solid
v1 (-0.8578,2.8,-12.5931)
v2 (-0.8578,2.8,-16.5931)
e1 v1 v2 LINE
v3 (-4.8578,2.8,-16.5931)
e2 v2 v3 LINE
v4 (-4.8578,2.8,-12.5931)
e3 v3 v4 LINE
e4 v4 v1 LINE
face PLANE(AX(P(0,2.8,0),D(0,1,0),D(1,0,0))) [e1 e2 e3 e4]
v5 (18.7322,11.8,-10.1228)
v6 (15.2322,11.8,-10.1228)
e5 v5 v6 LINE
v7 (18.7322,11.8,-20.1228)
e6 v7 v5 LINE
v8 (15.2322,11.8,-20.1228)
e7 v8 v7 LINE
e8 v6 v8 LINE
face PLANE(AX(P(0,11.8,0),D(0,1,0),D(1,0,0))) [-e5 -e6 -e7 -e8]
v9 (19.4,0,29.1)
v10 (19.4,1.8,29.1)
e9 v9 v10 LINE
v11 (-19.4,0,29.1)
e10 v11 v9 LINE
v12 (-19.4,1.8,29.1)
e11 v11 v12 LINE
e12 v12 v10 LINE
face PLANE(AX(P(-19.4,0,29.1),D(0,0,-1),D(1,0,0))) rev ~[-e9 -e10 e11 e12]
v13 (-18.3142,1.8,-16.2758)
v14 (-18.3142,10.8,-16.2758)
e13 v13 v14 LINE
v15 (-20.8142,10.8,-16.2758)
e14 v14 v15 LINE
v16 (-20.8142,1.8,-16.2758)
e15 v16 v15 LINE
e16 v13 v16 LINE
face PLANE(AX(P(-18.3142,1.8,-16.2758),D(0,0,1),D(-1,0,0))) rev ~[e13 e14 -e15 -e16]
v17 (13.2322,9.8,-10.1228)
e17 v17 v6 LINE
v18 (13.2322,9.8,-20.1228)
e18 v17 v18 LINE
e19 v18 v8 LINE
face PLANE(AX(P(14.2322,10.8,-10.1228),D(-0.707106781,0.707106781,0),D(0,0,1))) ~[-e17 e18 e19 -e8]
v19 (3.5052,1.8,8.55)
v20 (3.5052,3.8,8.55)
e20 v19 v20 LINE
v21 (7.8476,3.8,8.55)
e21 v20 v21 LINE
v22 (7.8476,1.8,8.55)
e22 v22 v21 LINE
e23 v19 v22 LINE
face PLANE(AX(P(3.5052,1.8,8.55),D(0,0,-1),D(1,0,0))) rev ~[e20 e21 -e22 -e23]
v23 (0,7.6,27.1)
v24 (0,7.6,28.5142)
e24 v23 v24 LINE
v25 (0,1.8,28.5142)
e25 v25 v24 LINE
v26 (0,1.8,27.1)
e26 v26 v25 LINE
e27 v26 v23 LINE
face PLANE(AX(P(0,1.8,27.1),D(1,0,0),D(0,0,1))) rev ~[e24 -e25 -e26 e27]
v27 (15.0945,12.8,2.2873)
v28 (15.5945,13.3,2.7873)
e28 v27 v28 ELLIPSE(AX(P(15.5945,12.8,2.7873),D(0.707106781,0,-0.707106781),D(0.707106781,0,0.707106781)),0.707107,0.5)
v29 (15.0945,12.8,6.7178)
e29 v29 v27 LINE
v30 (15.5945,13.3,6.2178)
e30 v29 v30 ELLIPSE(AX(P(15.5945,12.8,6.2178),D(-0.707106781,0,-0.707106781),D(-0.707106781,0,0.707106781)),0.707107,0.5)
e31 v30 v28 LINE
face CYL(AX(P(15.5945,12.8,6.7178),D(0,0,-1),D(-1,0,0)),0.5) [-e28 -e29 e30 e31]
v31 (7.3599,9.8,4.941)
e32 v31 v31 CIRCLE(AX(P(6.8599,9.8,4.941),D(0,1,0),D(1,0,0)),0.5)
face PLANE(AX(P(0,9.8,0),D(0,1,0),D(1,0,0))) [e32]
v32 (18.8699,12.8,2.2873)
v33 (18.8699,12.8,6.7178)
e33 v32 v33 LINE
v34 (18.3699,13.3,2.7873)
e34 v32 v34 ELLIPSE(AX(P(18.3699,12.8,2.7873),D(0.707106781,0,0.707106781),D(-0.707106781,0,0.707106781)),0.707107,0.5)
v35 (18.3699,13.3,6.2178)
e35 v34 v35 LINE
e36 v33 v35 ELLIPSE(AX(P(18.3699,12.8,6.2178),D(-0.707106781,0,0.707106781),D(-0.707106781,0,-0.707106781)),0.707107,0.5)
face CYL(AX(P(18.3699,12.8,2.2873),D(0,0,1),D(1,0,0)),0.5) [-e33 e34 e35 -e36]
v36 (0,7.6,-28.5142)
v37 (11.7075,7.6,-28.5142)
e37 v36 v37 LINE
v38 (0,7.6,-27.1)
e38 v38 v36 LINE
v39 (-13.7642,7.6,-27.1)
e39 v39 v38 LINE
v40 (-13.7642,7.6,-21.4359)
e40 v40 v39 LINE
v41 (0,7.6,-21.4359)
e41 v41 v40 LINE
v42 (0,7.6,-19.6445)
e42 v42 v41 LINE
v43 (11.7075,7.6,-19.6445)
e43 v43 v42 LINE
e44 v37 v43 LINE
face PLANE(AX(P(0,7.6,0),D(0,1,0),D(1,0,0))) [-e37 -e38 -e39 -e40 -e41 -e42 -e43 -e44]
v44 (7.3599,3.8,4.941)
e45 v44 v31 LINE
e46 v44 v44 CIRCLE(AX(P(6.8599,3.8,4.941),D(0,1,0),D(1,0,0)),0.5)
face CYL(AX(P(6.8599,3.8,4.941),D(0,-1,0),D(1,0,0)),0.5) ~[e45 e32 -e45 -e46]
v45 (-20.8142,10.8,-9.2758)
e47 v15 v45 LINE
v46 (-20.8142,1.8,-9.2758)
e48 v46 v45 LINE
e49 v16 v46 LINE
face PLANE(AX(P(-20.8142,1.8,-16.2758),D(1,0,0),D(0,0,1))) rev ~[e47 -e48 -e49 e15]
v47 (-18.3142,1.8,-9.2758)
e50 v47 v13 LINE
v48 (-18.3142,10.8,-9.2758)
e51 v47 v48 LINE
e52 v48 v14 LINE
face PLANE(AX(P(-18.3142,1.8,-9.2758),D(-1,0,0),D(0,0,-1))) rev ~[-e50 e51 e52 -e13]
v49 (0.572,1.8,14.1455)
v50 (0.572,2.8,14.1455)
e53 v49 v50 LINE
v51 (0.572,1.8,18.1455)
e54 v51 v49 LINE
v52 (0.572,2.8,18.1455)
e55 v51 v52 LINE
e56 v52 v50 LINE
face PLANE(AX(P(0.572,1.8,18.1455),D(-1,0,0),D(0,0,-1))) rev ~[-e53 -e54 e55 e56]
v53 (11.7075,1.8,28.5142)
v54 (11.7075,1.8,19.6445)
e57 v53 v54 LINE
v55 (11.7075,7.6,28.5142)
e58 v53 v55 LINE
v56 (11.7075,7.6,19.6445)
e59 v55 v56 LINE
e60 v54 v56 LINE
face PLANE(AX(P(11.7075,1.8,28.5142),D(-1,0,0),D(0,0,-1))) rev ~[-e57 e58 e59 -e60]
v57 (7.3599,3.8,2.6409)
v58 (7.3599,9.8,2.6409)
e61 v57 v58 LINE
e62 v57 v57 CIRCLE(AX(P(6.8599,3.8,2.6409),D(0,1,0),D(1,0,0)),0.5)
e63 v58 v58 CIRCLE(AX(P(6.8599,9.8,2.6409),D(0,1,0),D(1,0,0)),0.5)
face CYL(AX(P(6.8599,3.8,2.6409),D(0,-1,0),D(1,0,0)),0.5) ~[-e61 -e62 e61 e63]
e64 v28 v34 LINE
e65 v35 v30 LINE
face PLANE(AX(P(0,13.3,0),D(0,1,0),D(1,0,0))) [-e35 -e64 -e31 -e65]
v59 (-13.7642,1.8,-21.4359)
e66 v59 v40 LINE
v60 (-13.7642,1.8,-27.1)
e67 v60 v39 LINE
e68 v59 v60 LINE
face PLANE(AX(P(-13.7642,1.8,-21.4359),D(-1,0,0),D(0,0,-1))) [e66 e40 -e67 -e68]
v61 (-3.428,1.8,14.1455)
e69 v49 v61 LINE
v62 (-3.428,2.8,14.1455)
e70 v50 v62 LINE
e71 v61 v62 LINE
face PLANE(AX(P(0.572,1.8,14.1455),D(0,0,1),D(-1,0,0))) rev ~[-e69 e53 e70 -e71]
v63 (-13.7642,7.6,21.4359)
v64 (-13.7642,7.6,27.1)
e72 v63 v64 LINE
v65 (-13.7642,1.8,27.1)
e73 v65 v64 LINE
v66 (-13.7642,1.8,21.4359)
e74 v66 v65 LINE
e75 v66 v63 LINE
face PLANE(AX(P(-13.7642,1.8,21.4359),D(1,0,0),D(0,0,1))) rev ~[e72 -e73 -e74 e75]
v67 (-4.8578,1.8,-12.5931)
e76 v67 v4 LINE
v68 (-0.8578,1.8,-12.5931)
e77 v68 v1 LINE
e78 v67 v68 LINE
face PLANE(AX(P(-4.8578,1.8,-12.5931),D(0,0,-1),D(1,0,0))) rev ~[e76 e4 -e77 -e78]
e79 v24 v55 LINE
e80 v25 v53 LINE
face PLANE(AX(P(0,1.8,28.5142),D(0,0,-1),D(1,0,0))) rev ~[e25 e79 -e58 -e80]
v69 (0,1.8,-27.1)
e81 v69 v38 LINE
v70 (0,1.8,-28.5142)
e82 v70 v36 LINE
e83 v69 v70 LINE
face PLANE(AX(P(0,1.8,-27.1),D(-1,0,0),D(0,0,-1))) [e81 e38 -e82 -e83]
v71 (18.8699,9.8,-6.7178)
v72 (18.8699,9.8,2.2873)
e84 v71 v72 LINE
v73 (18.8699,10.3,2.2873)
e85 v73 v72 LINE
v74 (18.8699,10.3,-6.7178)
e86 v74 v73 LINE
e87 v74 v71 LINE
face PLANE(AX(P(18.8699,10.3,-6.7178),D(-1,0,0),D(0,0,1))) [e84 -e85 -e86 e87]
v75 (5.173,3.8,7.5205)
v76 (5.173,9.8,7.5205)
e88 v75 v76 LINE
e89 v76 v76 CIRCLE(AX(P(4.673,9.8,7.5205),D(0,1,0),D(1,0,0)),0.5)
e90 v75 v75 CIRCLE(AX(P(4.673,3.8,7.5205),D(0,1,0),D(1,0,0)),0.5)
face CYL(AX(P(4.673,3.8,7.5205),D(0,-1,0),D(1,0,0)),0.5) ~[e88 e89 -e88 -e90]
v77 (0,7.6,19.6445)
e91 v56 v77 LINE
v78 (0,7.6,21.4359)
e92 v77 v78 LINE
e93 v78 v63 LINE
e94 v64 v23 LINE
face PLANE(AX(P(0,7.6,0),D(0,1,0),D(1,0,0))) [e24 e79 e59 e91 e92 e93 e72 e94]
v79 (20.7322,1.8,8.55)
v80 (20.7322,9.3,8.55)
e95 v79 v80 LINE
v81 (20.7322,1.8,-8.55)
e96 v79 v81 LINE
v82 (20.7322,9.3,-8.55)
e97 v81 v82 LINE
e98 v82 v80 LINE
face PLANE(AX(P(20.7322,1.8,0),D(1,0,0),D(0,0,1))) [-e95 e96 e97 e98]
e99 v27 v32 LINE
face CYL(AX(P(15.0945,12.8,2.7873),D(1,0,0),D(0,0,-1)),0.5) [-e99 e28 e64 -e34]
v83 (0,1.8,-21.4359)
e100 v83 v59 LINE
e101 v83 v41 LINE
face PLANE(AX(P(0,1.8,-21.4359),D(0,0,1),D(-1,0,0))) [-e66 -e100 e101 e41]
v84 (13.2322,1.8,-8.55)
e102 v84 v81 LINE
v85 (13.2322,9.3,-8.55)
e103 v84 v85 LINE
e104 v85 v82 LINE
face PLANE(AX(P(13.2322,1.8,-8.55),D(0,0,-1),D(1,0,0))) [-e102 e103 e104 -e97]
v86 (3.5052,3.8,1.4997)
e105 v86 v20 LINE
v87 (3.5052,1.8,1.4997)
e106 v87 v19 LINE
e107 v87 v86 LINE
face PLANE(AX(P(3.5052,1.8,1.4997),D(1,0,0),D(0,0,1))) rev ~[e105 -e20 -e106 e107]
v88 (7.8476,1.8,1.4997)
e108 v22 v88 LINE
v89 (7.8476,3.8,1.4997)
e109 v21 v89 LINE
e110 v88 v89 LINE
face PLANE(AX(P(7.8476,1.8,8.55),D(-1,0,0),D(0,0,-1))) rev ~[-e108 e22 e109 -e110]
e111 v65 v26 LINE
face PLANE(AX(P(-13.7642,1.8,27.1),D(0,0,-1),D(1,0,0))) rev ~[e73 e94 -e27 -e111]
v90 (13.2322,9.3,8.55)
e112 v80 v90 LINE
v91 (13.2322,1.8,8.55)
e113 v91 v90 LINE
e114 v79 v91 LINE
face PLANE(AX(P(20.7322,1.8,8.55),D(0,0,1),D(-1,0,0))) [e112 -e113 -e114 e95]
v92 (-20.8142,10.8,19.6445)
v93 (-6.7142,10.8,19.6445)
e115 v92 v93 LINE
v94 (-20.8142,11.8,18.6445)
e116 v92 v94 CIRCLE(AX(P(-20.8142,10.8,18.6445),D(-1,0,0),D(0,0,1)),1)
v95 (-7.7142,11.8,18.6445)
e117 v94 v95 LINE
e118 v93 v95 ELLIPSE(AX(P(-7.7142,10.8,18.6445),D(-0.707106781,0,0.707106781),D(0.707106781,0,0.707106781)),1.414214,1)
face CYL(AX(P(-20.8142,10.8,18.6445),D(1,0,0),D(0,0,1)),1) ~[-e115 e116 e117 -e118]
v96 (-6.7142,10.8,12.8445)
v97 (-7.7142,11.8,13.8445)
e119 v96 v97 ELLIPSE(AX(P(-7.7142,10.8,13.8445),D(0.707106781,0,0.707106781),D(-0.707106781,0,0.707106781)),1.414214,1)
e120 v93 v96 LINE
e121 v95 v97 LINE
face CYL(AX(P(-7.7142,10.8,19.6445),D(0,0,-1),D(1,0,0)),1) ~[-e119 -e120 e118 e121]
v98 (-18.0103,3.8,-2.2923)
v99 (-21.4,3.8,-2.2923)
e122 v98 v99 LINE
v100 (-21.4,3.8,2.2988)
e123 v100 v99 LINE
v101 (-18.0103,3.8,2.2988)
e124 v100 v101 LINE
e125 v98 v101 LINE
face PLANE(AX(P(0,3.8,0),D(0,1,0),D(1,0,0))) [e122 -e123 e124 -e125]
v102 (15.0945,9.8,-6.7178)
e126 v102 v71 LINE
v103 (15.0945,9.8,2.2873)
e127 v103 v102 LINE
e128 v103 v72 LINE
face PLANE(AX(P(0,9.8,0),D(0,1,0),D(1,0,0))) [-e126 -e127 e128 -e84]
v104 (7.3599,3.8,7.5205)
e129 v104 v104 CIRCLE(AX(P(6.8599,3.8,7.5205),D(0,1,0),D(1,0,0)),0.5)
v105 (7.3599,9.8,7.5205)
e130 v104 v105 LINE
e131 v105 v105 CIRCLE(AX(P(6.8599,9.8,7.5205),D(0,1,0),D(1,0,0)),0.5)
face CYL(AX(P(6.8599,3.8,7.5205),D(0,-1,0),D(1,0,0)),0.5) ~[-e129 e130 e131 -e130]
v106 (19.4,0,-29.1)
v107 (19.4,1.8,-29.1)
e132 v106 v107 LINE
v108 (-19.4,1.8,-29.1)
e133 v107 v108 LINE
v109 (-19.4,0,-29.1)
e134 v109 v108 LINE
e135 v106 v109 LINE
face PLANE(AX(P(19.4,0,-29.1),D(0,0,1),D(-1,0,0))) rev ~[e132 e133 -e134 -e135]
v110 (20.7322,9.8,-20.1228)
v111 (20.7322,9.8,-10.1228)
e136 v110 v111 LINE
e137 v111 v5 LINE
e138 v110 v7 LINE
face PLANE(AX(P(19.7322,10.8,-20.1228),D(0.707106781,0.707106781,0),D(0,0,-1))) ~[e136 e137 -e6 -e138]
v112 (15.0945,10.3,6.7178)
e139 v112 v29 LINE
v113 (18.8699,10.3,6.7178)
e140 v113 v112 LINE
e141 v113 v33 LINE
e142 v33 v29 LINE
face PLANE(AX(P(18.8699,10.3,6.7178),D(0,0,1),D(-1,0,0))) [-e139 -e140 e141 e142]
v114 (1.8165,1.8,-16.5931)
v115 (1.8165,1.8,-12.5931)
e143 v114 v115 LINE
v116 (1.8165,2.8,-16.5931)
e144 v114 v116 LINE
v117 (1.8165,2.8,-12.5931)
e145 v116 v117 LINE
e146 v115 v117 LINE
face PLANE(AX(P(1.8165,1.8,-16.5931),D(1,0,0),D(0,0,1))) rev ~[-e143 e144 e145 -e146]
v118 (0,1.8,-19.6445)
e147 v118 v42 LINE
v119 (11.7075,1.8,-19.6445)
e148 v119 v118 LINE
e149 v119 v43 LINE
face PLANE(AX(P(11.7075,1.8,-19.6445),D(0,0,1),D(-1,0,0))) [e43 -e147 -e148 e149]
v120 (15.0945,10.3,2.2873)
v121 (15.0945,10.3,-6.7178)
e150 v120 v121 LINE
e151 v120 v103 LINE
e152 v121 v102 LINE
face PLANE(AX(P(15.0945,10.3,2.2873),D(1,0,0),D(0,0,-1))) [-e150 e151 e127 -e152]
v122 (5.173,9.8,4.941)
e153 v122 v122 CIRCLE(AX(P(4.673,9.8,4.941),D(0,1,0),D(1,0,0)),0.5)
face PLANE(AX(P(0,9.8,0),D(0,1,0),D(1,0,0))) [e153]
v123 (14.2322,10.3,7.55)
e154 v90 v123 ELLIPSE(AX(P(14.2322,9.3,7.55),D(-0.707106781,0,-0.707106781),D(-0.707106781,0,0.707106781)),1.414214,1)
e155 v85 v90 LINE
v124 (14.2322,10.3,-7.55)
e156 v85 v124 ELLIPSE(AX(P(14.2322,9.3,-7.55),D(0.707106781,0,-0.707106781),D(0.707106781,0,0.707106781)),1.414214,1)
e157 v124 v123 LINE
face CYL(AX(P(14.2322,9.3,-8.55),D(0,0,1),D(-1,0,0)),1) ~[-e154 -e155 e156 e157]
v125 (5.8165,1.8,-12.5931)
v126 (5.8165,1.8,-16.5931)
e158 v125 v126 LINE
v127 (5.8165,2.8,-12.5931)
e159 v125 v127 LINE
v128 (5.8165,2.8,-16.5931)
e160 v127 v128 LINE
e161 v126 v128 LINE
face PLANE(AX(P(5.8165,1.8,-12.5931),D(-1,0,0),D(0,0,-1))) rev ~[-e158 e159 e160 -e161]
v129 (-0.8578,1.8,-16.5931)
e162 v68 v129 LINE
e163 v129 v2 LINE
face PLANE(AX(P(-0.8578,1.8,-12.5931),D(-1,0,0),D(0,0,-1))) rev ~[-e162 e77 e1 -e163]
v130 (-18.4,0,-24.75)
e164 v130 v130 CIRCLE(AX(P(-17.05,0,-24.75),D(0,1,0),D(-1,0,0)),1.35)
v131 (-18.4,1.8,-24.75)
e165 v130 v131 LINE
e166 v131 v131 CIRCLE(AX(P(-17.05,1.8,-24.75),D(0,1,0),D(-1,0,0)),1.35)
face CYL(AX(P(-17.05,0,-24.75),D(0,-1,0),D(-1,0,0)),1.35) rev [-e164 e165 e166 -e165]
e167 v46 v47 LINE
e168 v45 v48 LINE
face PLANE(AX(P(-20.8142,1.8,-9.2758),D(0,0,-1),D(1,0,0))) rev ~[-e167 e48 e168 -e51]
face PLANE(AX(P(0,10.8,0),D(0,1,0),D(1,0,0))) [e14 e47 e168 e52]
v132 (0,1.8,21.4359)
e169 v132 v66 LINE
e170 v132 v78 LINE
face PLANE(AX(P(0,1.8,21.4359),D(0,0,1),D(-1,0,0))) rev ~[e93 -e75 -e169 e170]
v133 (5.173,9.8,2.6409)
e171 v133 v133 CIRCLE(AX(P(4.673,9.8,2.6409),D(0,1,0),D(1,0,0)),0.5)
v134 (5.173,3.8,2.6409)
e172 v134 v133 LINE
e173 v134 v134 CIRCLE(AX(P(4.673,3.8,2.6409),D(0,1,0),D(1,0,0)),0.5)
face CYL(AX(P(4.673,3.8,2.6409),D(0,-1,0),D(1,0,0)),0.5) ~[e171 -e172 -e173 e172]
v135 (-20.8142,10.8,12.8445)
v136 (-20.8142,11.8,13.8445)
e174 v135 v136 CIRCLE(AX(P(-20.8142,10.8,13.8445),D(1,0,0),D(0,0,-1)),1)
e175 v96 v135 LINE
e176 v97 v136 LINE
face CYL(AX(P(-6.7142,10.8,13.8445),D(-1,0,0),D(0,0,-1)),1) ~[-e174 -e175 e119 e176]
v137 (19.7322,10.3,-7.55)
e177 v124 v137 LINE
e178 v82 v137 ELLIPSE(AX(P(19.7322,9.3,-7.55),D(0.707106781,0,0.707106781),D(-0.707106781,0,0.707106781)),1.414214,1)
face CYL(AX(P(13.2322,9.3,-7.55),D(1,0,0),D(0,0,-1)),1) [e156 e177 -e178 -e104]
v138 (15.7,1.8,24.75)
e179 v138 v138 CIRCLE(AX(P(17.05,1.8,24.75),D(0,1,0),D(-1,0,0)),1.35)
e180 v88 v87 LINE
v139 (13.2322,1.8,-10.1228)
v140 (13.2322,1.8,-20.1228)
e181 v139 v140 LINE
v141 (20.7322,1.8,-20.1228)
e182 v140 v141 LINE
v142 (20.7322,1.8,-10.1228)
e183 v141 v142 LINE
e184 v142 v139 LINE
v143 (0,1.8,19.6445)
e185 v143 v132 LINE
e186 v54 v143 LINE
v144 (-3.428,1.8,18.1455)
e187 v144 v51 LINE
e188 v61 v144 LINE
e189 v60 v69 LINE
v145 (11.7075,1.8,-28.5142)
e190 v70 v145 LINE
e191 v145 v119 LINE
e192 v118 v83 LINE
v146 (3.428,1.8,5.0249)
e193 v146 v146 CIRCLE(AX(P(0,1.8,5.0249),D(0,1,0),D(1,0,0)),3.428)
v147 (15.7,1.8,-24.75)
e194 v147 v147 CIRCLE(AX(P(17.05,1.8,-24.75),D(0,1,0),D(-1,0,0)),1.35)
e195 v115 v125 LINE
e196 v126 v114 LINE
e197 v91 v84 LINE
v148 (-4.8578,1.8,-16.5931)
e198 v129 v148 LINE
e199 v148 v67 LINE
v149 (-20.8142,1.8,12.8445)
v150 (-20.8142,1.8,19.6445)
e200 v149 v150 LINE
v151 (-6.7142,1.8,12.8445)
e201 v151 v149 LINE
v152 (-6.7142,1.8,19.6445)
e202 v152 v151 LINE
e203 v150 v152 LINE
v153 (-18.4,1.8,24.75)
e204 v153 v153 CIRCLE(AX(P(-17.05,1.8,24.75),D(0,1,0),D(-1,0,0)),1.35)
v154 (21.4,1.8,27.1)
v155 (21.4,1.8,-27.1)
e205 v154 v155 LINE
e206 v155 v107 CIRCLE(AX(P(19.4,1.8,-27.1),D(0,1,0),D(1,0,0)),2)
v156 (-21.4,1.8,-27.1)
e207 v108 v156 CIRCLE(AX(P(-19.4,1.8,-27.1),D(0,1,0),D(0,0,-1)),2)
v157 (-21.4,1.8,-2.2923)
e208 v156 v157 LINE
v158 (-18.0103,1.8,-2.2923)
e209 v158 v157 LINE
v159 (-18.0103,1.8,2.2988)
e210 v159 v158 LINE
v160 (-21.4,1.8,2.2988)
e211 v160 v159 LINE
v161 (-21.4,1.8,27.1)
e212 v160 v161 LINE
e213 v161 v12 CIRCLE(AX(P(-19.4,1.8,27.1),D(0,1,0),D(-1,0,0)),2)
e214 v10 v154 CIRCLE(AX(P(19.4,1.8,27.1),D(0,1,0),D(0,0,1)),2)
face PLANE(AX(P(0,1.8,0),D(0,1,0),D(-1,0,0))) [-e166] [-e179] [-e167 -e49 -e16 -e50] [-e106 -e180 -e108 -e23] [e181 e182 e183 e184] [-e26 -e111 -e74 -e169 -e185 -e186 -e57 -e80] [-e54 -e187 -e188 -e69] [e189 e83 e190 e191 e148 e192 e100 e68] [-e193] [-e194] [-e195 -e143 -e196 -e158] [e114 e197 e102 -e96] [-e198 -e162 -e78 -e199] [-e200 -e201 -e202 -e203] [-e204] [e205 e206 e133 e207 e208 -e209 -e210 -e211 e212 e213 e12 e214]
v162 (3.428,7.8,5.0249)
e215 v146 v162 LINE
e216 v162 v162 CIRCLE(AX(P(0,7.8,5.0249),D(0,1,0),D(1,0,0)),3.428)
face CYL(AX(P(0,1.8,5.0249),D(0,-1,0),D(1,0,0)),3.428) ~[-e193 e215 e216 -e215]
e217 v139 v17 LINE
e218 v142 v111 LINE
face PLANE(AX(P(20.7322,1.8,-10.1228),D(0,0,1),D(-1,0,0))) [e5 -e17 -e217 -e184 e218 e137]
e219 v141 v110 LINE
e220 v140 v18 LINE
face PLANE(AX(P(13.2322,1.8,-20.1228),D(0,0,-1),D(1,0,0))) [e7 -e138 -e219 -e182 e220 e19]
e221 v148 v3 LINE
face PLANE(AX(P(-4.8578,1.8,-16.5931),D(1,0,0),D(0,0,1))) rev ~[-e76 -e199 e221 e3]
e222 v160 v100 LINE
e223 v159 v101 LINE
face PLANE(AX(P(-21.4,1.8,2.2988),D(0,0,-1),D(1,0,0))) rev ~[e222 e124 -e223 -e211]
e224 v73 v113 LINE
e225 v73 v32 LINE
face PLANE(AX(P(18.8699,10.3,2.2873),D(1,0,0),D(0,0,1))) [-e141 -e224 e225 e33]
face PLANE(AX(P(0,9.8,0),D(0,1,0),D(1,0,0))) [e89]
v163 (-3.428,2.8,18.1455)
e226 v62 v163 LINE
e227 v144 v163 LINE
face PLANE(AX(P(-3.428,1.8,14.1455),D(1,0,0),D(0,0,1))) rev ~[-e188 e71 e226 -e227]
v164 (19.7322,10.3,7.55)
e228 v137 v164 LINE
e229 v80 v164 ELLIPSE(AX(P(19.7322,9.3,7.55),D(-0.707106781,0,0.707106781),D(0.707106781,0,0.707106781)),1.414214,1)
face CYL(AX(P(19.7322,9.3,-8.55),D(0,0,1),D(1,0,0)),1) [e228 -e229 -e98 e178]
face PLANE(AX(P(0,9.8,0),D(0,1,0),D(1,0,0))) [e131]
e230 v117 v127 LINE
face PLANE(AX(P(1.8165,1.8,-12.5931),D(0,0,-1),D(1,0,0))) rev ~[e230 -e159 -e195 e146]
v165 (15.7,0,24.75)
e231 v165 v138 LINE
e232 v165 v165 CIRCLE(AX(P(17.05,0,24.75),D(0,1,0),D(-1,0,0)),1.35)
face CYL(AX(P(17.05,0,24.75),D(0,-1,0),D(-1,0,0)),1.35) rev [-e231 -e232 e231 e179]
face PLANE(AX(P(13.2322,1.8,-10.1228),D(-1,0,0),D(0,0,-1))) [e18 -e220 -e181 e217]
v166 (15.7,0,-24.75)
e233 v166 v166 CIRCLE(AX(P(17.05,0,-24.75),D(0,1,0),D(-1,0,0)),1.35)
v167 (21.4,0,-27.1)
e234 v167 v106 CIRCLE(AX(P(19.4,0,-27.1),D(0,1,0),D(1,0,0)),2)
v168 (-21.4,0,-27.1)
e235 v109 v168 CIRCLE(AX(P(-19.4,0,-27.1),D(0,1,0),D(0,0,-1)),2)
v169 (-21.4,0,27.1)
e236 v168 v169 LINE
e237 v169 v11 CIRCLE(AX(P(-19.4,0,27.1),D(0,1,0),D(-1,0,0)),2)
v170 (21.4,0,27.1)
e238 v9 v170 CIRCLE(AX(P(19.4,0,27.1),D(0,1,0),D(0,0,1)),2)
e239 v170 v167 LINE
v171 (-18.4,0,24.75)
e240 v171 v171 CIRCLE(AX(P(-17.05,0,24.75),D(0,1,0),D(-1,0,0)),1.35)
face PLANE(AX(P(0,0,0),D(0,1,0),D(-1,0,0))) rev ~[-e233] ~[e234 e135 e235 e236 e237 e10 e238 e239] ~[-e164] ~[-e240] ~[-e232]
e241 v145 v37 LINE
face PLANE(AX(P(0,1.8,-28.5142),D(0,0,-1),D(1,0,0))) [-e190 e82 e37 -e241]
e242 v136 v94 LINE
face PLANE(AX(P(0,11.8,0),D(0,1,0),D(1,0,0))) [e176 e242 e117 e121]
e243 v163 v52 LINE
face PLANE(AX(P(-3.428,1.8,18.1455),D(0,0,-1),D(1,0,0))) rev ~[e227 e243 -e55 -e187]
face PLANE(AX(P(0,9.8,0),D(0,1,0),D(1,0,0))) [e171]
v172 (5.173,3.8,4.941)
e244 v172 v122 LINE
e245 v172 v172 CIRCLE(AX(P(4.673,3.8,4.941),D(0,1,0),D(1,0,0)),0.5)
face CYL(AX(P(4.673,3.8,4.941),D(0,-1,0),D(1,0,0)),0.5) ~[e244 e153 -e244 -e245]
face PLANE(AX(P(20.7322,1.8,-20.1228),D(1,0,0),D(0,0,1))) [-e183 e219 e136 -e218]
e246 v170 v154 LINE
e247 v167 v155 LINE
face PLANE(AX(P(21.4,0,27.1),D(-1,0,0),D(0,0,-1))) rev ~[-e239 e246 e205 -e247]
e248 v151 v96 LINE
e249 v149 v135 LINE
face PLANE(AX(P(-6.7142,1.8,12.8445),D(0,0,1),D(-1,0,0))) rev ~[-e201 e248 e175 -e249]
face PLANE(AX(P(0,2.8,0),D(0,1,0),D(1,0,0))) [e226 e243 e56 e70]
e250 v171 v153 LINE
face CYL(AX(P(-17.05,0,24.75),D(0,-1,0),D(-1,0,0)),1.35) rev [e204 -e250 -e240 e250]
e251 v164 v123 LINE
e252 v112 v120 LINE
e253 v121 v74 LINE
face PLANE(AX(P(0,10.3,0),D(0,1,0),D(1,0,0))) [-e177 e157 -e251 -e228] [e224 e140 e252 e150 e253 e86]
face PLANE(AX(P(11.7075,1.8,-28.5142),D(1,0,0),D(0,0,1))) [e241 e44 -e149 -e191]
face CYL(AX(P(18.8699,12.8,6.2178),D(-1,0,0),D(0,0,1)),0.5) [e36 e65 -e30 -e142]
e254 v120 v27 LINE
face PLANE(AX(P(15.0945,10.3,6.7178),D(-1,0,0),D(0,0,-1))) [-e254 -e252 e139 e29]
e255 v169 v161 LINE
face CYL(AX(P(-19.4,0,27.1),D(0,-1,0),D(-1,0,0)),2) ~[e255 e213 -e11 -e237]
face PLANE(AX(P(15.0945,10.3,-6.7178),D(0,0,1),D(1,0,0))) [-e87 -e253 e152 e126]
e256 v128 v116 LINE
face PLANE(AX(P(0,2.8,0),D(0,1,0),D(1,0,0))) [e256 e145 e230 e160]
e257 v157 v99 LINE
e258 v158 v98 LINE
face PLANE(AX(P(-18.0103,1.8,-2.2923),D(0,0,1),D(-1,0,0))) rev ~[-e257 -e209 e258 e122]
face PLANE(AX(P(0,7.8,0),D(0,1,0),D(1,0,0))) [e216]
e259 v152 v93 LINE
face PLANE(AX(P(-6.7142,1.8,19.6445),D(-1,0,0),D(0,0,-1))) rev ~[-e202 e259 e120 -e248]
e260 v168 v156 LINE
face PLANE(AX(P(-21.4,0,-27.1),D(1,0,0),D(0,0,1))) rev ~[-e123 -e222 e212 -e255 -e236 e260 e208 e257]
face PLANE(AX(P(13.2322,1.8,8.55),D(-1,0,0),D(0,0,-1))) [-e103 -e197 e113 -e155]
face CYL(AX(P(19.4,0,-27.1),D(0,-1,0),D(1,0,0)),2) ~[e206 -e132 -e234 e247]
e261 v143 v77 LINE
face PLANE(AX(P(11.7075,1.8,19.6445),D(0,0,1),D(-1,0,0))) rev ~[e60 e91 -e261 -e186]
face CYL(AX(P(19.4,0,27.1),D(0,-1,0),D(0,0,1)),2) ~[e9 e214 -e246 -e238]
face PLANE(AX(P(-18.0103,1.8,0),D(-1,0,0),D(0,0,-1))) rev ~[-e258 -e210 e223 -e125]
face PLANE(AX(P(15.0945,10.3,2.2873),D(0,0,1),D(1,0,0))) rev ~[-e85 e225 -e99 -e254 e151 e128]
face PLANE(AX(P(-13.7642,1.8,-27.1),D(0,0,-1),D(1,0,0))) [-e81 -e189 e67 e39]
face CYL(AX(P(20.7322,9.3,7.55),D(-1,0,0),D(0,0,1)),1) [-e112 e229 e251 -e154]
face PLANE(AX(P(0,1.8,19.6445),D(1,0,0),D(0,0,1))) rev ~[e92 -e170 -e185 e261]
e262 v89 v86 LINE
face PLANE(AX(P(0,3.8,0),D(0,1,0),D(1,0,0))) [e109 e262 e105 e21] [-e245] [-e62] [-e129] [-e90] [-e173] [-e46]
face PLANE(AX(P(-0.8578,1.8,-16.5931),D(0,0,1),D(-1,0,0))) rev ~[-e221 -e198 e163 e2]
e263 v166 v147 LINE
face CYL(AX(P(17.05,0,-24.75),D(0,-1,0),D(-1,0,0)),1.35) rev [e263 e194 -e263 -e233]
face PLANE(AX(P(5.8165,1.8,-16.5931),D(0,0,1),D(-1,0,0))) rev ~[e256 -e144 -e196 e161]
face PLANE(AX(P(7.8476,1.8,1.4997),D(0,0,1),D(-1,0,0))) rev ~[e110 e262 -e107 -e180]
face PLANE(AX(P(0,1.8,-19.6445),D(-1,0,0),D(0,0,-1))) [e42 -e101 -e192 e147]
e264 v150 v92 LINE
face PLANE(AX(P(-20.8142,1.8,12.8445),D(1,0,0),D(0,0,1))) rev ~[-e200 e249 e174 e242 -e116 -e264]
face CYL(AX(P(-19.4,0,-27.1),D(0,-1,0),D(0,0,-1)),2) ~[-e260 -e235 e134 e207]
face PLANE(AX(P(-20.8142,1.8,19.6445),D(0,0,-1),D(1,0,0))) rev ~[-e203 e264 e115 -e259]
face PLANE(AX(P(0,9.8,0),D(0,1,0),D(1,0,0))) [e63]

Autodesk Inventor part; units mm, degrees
ref_plane "YZ Plane" through (0, 0, 0) normal (1, 0, 0) x (0, 1, 0)
ref_plane "XZ Plane" through (0, 0, 0) normal (0, 1, 0) x (-1, 0, 0)
ref_plane "XY Plane" through (0, 0, 0) normal (0, 0, 1) x (1, 0, 0)
sketch "Esboço1" plane through (0, 0, 0) normal (0, 1, 0) x (-1, 0, 0)
  line L0 (-19.4, -29.1) -> (19.4, -29.1)
  line L1 (21.4, -27.1) -> (21.4, 27.1)
  line L2 (19.4, 29.1) -> (-19.4, 29.1)
  line L3 (-21.4, 27.1) -> (-21.4, -27.1)
  line L4 (-21.4, -29.1) -> (21.4, 29.1) construction
  line L5 (21.4, -29.1) -> (-21.4, 29.1) construction
  circle A0 centre (17.05, 24.75) radius 1.35
  circle A1 centre (-17.05, 24.75) radius 1.35
  circle A2 centre (17.05, -24.75) radius 1.35
  circle A3 centre (-17.05, -24.75) radius 1.35
  arc A4 (21.4, 27.1) -> (19.4, 29.1) centre (19.4, 27.1) ccw
  arc A5 (-19.4, 29.1) -> (-21.4, 27.1) centre (-19.4, 27.1) ccw
  arc A6 (19.4, -29.1) -> (21.4, -27.1) centre (19.4, -27.1) ccw
  arc A7 (-21.4, -27.1) -> (-19.4, -29.1) centre (-19.4, -27.1) ccw
  point P0 (0, 0)
  dimension "d0" = 42.8
  dimension "d1" = 58.2
  dimension "d2" = 2.7
  dimension "d3" = 3
  dimension "d4" = 3
  dimension "d5" = 2.7
  dimension "d6" = 3
  dimension "d7" = 3
  dimension "d8" = 2
extrude "Extrusão1" add sketch "Esboço1" along normal blind 1.8
sketch "Esboço2" plane through (0, 1.8, 0) normal (0, 1, 0) x (1, 0, 0)
  line L0 (-21.4, 27.1) -> (-21.4, -27.1) projected
  arc A0 (-21.4, -27.1) -> (-19.4, -29.1) centre (-19.4, -27.1) ccw projected
  arc A1 (-19.4, 29.1) -> (-21.4, 27.1) centre (-19.4, 27.1) ccw projected
  line L1 (19.4, 29.1) -> (-19.4, 29.1) projected
  line L2 (-19.4, -29.1) -> (19.4, -29.1) projected
  arc A2 (19.4, -29.1) -> (21.4, -27.1) centre (19.4, -27.1) ccw projected
  line L3 (21.4, -27.1) -> (21.4, 27.1) projected
  arc A3 (21.4, 27.1) -> (19.4, 29.1) centre (19.4, 27.1) ccw projected
  line L4 (20.7322, -8.55) -> (13.2322, -8.55)
  line L5 (13.2322, -8.55) -> (13.2322, 8.55)
  line L6 (13.2322, 8.55) -> (20.7322, 8.55)
  line L7 (20.7322, 8.55) -> (20.7322, -8.55)
  line L8 (20.7322, -8.55) -> (13.2322, 8.55) construction
  line L9 (13.2322, -8.55) -> (20.7322, 8.55) construction
  line L10 (20.7322, 10.1228) -> (13.2322, 10.1228)
  line L11 (13.2322, 10.1228) -> (13.2322, 20.1228)
  line L12 (13.2322, 20.1228) -> (20.7322, 20.1228)
  line L13 (20.7322, 20.1228) -> (20.7322, 10.1228)
  line L14 (-20.8142, -19.6445) -> (-6.7142, -19.6445)
  line L15 (-6.7142, -19.6445) -> (-6.7142, -12.8445)
  line L16 (-6.7142, -12.8445) -> (-20.8142, -12.8445)
  line L17 (-20.8142, -12.8445) -> (-20.8142, -19.6445)
  line L18 (-28.189, 0) -> (33.4078, 0)
  line L19 (-21.4, -2.2988) -> (-18.0103, -2.2988)
  line L20 (-18.0103, -2.2988) -> (-18.0103, 2.2923)
  line L21 (-18.0103, 2.2923) -> (-21.4, 2.2923)
  line L22 (-21.4, 2.2923) -> (-21.4, -2.2988)
  line L23 (-13.7642, -27.1) -> (0, -27.1)
  line L24 (0, -21.4359) -> (-13.7642, -21.4359)
  line L25 (-13.7642, -21.4359) -> (-13.7642, -27.1)
  line L26 (0, -28.5142) -> (11.7075, -28.5142)
  line L27 (11.7075, -28.5142) -> (11.7075, -19.6445)
  line L28 (11.7075, -19.6445) -> (0, -19.6445)
  line L29 (0, -19.6445) -> (0, -21.4359)
  line L30 (0, -27.1) -> (0, -28.5142)
  line L31 (-13.7642, 27.1) -> (0, 27.1)
  line L32 (0, 21.4359) -> (-13.7642, 21.4359)
  line L33 (-13.7642, 21.4359) -> (-13.7642, 27.1)
  line L34 (0, 28.5142) -> (11.7075, 28.5142)
  line L35 (11.7075, 28.5142) -> (11.7075, 19.6445)
  line L36 (11.7075, 19.6445) -> (0, 19.6445)
  line L37 (0, 19.6445) -> (0, 21.4359)
  line L38 (0, 27.1) -> (0, 28.5142)
  line L39 (3.5052, -8.55) -> (7.8476, -8.55)
  line L40 (7.8476, -8.55) -> (7.8476, -1.4997)
  line L41 (7.8476, -1.4997) -> (3.5052, -1.4997)
  line L42 (3.5052, -1.4997) -> (3.5052, -8.55)
  circle A4 centre (0, -5.0249) radius 3.428
  line L43 (-3.428, -18.1455) -> (0.572, -18.1455)
  line L44 (0.572, -18.1455) -> (0.572, -14.1455)
  line L45 (0.572, -14.1455) -> (-3.428, -14.1455)
  line L46 (-3.428, -14.1455) -> (-3.428, -18.1455)
  line L47 (-4.8578, 12.5931) -> (-0.8578, 12.5931)
  line L48 (-0.8578, 12.5931) -> (-0.8578, 16.5931)
  line L49 (-0.8578, 16.5931) -> (-4.8578, 16.5931)
  line L50 (-4.8578, 16.5931) -> (-4.8578, 12.5931)
  line L51 (1.8165, 12.5931) -> (5.8165, 12.5931)
  line L52 (5.8165, 12.5931) -> (5.8165, 16.5931)
  line L53 (5.8165, 16.5931) -> (1.8165, 16.5931)
  line L54 (1.8165, 16.5931) -> (1.8165, 12.5931)
  line L55 (-20.8142, 9.2758) -> (-18.3142, 9.2758)
  line L56 (-18.3142, 9.2758) -> (-18.3142, 16.2758)
  line L57 (-18.3142, 16.2758) -> (-20.8142, 16.2758)
  line L58 (-20.8142, 16.2758) -> (-20.8142, 9.2758)
  point P0 (0, 0)
  point P1 (16.9822, 0)
  dimension "d11" = 7.5
  dimension "d12" = 17.1
  dimension "d13" = 7.5
  dimension "d14" = 10
  dimension "d15" = 14.1
  dimension "d16" = 6.8
  dimension "d17" = 4
  dimension "d18" = 4
  dimension "d19" = 4
  dimension "d20" = 4
  dimension "d21" = 4
  dimension "d22" = 4
  dimension "d23" = 2.5
  dimension "d24" = 7
extrude "Extrusão2" add sketch "Esboço2" along normal blind 8.5 contours L18 L7 L4 L5 | L5 L6 L7 L18
extrude "Extrusão3" add sketch "Esboço2" along normal blind 10 contours L10 L11 L12 L13 | L17 L16 L15 L14
extrude "Extrusão4" add sketch "Esboço2" along normal blind 5.8 contours L25 L24 L29 L28 L27 L26 L30 L23 | L31 L38 L34 L35 L36 L37 L32 L33
extrude "Extrusão5" add sketch "Esboço2" along normal blind 1 contours L46 L45 L44 L43 | L50 L49 L48 L47 | L54 L53 L52 L51
extrude "Extrusão6" add sketch "Esboço2" along normal blind 2 contours L21 L20 L18 L0 | L18 L20 L19 L0 | L42 L41 L40 L39
extrude "Extrusão7" add sketch "Esboço2" along normal blind 9 contours L58 L57 L56 L55
extrude "Extrusão8" add sketch "Esboço2" along normal blind 6 contours A4
chamfer "Chanfro1" distance 2 angle 45 2 edges at (20.7322, 11.8, -15.1228) (13.2322, 11.8, -15.1228)
fillet "Arredondamento1" radius 1 4 edges at (20.7322, 10.3, 0) (13.2322, 10.3, 0) (16.9822, 10.3, 8.55) (16.9822, 10.3, -8.55)
fillet "Arredondamento2" radius 1 3 edges at (-13.7642, 11.8, 19.6445) (-13.7642, 11.8, 12.8445) (-6.7142, 11.8, 16.2445)
sketch "Esboço3" plane through (0, 3.8, 0) normal (0, 1, 0) x (1, 0, 0)
  line L0 (7.8476, -1.4997) -> (3.5052, -1.4997) projected
  line L1 (3.5052, -1.4997) -> (3.5052, -8.55) projected
  line L2 (7.8476, -8.55) -> (7.8476, -1.4997) projected
  line L3 (3.5052, -8.55) -> (7.8476, -8.55) projected
  line L4 (3.5052, -1.4997) -> (7.8476, -1.4997)
  line L5 (7.8476, -1.4997) -> (7.8476, -3.7821)
  line L6 (7.8476, -3.7821) -> (3.5052, -3.7821)
  line L7 (3.5052, -3.7821) -> (3.5052, -1.4997)
  line L8 (3.5052, -3.7821) -> (7.8476, -3.7821)
  line L9 (7.8476, -3.7821) -> (7.8476, -6.0999)
  line L10 (7.8476, -6.0999) -> (3.5052, -6.0999)
  line L11 (3.5052, -6.0999) -> (3.5052, -3.7821)
  line L12 (5.6764, -1.4997) -> (5.6764, -8.55)
  circle A0 centre (4.673, -2.6409) radius 0.5
  circle A1 centre (6.8599, -2.6409) radius 0.5
  circle A2 centre (4.673, -4.941) radius 0.5
  circle A3 centre (6.8599, -4.941) radius 0.5
  circle A4 centre (4.673, -7.5205) radius 0.5
  circle A5 centre (6.8599, -7.5205) radius 0.5
  point P0 (0, 0)
  dimension "d44" = 1
  dimension "d45" = 1
  dimension "d46" = 1
  dimension "d47" = 1
  dimension "d48" = 1
  dimension "d49" = 1
extrude "Extrusão9" add sketch "Esboço3" along normal blind 6 contours A0 | A1 | A2 | A3 | A4 | A5
sketch "Esboço4" plane through (0, 10.3, 0) normal (0, 1, 0) x (1, 0, 0)
  line L0 (14.2322, 7.55) -> (19.7322, 7.55) projected
  line L1 (14.2322, -7.55) -> (14.2322, 7.55) projected
  line L2 (19.7322, 7.55) -> (19.7322, -7.55) projected
  line L3 (19.7322, -7.55) -> (14.2322, -7.55) projected
  line L4 (18.8699, -6.7178) -> (15.0945, -6.7178)
  line L5 (15.0945, -6.7178) -> (15.0945, 6.7178)
  line L6 (15.0945, 6.7178) -> (18.8699, 6.7178)
  line L7 (18.8699, 6.7178) -> (18.8699, -6.7178)
  line L8 (18.8699, -6.7178) -> (15.0945, 6.7178) construction
  line L9 (15.0945, -6.7178) -> (18.8699, 6.7178) construction
  line L10 (15.0945, -2.2873) -> (18.8699, -2.2873)
  line L11 (18.8699, -2.2873) -> (18.8699, -6.7178)
  line L12 (18.8699, -6.7178) -> (15.0945, -6.7178)
  line L13 (15.0945, -6.7178) -> (15.0945, -2.2873)
  point P0 (0, 0)
  point P1 (16.9822, 0)
extrude "Extrusão10" add sketch "Esboço4" along normal blind 3 contours L4 L5 L10 L7
extrude "Extrusão11" cut sketch "Esboço4" against normal blind 0.5 contours L10 L5 L6 L7
fillet "Arredondamento3" radius 0.5 4 edges at (16.9822, 13.3, 6.7178) (18.8699, 13.3, 4.5025) (16.9822, 13.3, 2.2873) (15.0945, 13.3, 4.5025)
properties part number "SERIAL_BUS_SERVO_CONTROLLER"
